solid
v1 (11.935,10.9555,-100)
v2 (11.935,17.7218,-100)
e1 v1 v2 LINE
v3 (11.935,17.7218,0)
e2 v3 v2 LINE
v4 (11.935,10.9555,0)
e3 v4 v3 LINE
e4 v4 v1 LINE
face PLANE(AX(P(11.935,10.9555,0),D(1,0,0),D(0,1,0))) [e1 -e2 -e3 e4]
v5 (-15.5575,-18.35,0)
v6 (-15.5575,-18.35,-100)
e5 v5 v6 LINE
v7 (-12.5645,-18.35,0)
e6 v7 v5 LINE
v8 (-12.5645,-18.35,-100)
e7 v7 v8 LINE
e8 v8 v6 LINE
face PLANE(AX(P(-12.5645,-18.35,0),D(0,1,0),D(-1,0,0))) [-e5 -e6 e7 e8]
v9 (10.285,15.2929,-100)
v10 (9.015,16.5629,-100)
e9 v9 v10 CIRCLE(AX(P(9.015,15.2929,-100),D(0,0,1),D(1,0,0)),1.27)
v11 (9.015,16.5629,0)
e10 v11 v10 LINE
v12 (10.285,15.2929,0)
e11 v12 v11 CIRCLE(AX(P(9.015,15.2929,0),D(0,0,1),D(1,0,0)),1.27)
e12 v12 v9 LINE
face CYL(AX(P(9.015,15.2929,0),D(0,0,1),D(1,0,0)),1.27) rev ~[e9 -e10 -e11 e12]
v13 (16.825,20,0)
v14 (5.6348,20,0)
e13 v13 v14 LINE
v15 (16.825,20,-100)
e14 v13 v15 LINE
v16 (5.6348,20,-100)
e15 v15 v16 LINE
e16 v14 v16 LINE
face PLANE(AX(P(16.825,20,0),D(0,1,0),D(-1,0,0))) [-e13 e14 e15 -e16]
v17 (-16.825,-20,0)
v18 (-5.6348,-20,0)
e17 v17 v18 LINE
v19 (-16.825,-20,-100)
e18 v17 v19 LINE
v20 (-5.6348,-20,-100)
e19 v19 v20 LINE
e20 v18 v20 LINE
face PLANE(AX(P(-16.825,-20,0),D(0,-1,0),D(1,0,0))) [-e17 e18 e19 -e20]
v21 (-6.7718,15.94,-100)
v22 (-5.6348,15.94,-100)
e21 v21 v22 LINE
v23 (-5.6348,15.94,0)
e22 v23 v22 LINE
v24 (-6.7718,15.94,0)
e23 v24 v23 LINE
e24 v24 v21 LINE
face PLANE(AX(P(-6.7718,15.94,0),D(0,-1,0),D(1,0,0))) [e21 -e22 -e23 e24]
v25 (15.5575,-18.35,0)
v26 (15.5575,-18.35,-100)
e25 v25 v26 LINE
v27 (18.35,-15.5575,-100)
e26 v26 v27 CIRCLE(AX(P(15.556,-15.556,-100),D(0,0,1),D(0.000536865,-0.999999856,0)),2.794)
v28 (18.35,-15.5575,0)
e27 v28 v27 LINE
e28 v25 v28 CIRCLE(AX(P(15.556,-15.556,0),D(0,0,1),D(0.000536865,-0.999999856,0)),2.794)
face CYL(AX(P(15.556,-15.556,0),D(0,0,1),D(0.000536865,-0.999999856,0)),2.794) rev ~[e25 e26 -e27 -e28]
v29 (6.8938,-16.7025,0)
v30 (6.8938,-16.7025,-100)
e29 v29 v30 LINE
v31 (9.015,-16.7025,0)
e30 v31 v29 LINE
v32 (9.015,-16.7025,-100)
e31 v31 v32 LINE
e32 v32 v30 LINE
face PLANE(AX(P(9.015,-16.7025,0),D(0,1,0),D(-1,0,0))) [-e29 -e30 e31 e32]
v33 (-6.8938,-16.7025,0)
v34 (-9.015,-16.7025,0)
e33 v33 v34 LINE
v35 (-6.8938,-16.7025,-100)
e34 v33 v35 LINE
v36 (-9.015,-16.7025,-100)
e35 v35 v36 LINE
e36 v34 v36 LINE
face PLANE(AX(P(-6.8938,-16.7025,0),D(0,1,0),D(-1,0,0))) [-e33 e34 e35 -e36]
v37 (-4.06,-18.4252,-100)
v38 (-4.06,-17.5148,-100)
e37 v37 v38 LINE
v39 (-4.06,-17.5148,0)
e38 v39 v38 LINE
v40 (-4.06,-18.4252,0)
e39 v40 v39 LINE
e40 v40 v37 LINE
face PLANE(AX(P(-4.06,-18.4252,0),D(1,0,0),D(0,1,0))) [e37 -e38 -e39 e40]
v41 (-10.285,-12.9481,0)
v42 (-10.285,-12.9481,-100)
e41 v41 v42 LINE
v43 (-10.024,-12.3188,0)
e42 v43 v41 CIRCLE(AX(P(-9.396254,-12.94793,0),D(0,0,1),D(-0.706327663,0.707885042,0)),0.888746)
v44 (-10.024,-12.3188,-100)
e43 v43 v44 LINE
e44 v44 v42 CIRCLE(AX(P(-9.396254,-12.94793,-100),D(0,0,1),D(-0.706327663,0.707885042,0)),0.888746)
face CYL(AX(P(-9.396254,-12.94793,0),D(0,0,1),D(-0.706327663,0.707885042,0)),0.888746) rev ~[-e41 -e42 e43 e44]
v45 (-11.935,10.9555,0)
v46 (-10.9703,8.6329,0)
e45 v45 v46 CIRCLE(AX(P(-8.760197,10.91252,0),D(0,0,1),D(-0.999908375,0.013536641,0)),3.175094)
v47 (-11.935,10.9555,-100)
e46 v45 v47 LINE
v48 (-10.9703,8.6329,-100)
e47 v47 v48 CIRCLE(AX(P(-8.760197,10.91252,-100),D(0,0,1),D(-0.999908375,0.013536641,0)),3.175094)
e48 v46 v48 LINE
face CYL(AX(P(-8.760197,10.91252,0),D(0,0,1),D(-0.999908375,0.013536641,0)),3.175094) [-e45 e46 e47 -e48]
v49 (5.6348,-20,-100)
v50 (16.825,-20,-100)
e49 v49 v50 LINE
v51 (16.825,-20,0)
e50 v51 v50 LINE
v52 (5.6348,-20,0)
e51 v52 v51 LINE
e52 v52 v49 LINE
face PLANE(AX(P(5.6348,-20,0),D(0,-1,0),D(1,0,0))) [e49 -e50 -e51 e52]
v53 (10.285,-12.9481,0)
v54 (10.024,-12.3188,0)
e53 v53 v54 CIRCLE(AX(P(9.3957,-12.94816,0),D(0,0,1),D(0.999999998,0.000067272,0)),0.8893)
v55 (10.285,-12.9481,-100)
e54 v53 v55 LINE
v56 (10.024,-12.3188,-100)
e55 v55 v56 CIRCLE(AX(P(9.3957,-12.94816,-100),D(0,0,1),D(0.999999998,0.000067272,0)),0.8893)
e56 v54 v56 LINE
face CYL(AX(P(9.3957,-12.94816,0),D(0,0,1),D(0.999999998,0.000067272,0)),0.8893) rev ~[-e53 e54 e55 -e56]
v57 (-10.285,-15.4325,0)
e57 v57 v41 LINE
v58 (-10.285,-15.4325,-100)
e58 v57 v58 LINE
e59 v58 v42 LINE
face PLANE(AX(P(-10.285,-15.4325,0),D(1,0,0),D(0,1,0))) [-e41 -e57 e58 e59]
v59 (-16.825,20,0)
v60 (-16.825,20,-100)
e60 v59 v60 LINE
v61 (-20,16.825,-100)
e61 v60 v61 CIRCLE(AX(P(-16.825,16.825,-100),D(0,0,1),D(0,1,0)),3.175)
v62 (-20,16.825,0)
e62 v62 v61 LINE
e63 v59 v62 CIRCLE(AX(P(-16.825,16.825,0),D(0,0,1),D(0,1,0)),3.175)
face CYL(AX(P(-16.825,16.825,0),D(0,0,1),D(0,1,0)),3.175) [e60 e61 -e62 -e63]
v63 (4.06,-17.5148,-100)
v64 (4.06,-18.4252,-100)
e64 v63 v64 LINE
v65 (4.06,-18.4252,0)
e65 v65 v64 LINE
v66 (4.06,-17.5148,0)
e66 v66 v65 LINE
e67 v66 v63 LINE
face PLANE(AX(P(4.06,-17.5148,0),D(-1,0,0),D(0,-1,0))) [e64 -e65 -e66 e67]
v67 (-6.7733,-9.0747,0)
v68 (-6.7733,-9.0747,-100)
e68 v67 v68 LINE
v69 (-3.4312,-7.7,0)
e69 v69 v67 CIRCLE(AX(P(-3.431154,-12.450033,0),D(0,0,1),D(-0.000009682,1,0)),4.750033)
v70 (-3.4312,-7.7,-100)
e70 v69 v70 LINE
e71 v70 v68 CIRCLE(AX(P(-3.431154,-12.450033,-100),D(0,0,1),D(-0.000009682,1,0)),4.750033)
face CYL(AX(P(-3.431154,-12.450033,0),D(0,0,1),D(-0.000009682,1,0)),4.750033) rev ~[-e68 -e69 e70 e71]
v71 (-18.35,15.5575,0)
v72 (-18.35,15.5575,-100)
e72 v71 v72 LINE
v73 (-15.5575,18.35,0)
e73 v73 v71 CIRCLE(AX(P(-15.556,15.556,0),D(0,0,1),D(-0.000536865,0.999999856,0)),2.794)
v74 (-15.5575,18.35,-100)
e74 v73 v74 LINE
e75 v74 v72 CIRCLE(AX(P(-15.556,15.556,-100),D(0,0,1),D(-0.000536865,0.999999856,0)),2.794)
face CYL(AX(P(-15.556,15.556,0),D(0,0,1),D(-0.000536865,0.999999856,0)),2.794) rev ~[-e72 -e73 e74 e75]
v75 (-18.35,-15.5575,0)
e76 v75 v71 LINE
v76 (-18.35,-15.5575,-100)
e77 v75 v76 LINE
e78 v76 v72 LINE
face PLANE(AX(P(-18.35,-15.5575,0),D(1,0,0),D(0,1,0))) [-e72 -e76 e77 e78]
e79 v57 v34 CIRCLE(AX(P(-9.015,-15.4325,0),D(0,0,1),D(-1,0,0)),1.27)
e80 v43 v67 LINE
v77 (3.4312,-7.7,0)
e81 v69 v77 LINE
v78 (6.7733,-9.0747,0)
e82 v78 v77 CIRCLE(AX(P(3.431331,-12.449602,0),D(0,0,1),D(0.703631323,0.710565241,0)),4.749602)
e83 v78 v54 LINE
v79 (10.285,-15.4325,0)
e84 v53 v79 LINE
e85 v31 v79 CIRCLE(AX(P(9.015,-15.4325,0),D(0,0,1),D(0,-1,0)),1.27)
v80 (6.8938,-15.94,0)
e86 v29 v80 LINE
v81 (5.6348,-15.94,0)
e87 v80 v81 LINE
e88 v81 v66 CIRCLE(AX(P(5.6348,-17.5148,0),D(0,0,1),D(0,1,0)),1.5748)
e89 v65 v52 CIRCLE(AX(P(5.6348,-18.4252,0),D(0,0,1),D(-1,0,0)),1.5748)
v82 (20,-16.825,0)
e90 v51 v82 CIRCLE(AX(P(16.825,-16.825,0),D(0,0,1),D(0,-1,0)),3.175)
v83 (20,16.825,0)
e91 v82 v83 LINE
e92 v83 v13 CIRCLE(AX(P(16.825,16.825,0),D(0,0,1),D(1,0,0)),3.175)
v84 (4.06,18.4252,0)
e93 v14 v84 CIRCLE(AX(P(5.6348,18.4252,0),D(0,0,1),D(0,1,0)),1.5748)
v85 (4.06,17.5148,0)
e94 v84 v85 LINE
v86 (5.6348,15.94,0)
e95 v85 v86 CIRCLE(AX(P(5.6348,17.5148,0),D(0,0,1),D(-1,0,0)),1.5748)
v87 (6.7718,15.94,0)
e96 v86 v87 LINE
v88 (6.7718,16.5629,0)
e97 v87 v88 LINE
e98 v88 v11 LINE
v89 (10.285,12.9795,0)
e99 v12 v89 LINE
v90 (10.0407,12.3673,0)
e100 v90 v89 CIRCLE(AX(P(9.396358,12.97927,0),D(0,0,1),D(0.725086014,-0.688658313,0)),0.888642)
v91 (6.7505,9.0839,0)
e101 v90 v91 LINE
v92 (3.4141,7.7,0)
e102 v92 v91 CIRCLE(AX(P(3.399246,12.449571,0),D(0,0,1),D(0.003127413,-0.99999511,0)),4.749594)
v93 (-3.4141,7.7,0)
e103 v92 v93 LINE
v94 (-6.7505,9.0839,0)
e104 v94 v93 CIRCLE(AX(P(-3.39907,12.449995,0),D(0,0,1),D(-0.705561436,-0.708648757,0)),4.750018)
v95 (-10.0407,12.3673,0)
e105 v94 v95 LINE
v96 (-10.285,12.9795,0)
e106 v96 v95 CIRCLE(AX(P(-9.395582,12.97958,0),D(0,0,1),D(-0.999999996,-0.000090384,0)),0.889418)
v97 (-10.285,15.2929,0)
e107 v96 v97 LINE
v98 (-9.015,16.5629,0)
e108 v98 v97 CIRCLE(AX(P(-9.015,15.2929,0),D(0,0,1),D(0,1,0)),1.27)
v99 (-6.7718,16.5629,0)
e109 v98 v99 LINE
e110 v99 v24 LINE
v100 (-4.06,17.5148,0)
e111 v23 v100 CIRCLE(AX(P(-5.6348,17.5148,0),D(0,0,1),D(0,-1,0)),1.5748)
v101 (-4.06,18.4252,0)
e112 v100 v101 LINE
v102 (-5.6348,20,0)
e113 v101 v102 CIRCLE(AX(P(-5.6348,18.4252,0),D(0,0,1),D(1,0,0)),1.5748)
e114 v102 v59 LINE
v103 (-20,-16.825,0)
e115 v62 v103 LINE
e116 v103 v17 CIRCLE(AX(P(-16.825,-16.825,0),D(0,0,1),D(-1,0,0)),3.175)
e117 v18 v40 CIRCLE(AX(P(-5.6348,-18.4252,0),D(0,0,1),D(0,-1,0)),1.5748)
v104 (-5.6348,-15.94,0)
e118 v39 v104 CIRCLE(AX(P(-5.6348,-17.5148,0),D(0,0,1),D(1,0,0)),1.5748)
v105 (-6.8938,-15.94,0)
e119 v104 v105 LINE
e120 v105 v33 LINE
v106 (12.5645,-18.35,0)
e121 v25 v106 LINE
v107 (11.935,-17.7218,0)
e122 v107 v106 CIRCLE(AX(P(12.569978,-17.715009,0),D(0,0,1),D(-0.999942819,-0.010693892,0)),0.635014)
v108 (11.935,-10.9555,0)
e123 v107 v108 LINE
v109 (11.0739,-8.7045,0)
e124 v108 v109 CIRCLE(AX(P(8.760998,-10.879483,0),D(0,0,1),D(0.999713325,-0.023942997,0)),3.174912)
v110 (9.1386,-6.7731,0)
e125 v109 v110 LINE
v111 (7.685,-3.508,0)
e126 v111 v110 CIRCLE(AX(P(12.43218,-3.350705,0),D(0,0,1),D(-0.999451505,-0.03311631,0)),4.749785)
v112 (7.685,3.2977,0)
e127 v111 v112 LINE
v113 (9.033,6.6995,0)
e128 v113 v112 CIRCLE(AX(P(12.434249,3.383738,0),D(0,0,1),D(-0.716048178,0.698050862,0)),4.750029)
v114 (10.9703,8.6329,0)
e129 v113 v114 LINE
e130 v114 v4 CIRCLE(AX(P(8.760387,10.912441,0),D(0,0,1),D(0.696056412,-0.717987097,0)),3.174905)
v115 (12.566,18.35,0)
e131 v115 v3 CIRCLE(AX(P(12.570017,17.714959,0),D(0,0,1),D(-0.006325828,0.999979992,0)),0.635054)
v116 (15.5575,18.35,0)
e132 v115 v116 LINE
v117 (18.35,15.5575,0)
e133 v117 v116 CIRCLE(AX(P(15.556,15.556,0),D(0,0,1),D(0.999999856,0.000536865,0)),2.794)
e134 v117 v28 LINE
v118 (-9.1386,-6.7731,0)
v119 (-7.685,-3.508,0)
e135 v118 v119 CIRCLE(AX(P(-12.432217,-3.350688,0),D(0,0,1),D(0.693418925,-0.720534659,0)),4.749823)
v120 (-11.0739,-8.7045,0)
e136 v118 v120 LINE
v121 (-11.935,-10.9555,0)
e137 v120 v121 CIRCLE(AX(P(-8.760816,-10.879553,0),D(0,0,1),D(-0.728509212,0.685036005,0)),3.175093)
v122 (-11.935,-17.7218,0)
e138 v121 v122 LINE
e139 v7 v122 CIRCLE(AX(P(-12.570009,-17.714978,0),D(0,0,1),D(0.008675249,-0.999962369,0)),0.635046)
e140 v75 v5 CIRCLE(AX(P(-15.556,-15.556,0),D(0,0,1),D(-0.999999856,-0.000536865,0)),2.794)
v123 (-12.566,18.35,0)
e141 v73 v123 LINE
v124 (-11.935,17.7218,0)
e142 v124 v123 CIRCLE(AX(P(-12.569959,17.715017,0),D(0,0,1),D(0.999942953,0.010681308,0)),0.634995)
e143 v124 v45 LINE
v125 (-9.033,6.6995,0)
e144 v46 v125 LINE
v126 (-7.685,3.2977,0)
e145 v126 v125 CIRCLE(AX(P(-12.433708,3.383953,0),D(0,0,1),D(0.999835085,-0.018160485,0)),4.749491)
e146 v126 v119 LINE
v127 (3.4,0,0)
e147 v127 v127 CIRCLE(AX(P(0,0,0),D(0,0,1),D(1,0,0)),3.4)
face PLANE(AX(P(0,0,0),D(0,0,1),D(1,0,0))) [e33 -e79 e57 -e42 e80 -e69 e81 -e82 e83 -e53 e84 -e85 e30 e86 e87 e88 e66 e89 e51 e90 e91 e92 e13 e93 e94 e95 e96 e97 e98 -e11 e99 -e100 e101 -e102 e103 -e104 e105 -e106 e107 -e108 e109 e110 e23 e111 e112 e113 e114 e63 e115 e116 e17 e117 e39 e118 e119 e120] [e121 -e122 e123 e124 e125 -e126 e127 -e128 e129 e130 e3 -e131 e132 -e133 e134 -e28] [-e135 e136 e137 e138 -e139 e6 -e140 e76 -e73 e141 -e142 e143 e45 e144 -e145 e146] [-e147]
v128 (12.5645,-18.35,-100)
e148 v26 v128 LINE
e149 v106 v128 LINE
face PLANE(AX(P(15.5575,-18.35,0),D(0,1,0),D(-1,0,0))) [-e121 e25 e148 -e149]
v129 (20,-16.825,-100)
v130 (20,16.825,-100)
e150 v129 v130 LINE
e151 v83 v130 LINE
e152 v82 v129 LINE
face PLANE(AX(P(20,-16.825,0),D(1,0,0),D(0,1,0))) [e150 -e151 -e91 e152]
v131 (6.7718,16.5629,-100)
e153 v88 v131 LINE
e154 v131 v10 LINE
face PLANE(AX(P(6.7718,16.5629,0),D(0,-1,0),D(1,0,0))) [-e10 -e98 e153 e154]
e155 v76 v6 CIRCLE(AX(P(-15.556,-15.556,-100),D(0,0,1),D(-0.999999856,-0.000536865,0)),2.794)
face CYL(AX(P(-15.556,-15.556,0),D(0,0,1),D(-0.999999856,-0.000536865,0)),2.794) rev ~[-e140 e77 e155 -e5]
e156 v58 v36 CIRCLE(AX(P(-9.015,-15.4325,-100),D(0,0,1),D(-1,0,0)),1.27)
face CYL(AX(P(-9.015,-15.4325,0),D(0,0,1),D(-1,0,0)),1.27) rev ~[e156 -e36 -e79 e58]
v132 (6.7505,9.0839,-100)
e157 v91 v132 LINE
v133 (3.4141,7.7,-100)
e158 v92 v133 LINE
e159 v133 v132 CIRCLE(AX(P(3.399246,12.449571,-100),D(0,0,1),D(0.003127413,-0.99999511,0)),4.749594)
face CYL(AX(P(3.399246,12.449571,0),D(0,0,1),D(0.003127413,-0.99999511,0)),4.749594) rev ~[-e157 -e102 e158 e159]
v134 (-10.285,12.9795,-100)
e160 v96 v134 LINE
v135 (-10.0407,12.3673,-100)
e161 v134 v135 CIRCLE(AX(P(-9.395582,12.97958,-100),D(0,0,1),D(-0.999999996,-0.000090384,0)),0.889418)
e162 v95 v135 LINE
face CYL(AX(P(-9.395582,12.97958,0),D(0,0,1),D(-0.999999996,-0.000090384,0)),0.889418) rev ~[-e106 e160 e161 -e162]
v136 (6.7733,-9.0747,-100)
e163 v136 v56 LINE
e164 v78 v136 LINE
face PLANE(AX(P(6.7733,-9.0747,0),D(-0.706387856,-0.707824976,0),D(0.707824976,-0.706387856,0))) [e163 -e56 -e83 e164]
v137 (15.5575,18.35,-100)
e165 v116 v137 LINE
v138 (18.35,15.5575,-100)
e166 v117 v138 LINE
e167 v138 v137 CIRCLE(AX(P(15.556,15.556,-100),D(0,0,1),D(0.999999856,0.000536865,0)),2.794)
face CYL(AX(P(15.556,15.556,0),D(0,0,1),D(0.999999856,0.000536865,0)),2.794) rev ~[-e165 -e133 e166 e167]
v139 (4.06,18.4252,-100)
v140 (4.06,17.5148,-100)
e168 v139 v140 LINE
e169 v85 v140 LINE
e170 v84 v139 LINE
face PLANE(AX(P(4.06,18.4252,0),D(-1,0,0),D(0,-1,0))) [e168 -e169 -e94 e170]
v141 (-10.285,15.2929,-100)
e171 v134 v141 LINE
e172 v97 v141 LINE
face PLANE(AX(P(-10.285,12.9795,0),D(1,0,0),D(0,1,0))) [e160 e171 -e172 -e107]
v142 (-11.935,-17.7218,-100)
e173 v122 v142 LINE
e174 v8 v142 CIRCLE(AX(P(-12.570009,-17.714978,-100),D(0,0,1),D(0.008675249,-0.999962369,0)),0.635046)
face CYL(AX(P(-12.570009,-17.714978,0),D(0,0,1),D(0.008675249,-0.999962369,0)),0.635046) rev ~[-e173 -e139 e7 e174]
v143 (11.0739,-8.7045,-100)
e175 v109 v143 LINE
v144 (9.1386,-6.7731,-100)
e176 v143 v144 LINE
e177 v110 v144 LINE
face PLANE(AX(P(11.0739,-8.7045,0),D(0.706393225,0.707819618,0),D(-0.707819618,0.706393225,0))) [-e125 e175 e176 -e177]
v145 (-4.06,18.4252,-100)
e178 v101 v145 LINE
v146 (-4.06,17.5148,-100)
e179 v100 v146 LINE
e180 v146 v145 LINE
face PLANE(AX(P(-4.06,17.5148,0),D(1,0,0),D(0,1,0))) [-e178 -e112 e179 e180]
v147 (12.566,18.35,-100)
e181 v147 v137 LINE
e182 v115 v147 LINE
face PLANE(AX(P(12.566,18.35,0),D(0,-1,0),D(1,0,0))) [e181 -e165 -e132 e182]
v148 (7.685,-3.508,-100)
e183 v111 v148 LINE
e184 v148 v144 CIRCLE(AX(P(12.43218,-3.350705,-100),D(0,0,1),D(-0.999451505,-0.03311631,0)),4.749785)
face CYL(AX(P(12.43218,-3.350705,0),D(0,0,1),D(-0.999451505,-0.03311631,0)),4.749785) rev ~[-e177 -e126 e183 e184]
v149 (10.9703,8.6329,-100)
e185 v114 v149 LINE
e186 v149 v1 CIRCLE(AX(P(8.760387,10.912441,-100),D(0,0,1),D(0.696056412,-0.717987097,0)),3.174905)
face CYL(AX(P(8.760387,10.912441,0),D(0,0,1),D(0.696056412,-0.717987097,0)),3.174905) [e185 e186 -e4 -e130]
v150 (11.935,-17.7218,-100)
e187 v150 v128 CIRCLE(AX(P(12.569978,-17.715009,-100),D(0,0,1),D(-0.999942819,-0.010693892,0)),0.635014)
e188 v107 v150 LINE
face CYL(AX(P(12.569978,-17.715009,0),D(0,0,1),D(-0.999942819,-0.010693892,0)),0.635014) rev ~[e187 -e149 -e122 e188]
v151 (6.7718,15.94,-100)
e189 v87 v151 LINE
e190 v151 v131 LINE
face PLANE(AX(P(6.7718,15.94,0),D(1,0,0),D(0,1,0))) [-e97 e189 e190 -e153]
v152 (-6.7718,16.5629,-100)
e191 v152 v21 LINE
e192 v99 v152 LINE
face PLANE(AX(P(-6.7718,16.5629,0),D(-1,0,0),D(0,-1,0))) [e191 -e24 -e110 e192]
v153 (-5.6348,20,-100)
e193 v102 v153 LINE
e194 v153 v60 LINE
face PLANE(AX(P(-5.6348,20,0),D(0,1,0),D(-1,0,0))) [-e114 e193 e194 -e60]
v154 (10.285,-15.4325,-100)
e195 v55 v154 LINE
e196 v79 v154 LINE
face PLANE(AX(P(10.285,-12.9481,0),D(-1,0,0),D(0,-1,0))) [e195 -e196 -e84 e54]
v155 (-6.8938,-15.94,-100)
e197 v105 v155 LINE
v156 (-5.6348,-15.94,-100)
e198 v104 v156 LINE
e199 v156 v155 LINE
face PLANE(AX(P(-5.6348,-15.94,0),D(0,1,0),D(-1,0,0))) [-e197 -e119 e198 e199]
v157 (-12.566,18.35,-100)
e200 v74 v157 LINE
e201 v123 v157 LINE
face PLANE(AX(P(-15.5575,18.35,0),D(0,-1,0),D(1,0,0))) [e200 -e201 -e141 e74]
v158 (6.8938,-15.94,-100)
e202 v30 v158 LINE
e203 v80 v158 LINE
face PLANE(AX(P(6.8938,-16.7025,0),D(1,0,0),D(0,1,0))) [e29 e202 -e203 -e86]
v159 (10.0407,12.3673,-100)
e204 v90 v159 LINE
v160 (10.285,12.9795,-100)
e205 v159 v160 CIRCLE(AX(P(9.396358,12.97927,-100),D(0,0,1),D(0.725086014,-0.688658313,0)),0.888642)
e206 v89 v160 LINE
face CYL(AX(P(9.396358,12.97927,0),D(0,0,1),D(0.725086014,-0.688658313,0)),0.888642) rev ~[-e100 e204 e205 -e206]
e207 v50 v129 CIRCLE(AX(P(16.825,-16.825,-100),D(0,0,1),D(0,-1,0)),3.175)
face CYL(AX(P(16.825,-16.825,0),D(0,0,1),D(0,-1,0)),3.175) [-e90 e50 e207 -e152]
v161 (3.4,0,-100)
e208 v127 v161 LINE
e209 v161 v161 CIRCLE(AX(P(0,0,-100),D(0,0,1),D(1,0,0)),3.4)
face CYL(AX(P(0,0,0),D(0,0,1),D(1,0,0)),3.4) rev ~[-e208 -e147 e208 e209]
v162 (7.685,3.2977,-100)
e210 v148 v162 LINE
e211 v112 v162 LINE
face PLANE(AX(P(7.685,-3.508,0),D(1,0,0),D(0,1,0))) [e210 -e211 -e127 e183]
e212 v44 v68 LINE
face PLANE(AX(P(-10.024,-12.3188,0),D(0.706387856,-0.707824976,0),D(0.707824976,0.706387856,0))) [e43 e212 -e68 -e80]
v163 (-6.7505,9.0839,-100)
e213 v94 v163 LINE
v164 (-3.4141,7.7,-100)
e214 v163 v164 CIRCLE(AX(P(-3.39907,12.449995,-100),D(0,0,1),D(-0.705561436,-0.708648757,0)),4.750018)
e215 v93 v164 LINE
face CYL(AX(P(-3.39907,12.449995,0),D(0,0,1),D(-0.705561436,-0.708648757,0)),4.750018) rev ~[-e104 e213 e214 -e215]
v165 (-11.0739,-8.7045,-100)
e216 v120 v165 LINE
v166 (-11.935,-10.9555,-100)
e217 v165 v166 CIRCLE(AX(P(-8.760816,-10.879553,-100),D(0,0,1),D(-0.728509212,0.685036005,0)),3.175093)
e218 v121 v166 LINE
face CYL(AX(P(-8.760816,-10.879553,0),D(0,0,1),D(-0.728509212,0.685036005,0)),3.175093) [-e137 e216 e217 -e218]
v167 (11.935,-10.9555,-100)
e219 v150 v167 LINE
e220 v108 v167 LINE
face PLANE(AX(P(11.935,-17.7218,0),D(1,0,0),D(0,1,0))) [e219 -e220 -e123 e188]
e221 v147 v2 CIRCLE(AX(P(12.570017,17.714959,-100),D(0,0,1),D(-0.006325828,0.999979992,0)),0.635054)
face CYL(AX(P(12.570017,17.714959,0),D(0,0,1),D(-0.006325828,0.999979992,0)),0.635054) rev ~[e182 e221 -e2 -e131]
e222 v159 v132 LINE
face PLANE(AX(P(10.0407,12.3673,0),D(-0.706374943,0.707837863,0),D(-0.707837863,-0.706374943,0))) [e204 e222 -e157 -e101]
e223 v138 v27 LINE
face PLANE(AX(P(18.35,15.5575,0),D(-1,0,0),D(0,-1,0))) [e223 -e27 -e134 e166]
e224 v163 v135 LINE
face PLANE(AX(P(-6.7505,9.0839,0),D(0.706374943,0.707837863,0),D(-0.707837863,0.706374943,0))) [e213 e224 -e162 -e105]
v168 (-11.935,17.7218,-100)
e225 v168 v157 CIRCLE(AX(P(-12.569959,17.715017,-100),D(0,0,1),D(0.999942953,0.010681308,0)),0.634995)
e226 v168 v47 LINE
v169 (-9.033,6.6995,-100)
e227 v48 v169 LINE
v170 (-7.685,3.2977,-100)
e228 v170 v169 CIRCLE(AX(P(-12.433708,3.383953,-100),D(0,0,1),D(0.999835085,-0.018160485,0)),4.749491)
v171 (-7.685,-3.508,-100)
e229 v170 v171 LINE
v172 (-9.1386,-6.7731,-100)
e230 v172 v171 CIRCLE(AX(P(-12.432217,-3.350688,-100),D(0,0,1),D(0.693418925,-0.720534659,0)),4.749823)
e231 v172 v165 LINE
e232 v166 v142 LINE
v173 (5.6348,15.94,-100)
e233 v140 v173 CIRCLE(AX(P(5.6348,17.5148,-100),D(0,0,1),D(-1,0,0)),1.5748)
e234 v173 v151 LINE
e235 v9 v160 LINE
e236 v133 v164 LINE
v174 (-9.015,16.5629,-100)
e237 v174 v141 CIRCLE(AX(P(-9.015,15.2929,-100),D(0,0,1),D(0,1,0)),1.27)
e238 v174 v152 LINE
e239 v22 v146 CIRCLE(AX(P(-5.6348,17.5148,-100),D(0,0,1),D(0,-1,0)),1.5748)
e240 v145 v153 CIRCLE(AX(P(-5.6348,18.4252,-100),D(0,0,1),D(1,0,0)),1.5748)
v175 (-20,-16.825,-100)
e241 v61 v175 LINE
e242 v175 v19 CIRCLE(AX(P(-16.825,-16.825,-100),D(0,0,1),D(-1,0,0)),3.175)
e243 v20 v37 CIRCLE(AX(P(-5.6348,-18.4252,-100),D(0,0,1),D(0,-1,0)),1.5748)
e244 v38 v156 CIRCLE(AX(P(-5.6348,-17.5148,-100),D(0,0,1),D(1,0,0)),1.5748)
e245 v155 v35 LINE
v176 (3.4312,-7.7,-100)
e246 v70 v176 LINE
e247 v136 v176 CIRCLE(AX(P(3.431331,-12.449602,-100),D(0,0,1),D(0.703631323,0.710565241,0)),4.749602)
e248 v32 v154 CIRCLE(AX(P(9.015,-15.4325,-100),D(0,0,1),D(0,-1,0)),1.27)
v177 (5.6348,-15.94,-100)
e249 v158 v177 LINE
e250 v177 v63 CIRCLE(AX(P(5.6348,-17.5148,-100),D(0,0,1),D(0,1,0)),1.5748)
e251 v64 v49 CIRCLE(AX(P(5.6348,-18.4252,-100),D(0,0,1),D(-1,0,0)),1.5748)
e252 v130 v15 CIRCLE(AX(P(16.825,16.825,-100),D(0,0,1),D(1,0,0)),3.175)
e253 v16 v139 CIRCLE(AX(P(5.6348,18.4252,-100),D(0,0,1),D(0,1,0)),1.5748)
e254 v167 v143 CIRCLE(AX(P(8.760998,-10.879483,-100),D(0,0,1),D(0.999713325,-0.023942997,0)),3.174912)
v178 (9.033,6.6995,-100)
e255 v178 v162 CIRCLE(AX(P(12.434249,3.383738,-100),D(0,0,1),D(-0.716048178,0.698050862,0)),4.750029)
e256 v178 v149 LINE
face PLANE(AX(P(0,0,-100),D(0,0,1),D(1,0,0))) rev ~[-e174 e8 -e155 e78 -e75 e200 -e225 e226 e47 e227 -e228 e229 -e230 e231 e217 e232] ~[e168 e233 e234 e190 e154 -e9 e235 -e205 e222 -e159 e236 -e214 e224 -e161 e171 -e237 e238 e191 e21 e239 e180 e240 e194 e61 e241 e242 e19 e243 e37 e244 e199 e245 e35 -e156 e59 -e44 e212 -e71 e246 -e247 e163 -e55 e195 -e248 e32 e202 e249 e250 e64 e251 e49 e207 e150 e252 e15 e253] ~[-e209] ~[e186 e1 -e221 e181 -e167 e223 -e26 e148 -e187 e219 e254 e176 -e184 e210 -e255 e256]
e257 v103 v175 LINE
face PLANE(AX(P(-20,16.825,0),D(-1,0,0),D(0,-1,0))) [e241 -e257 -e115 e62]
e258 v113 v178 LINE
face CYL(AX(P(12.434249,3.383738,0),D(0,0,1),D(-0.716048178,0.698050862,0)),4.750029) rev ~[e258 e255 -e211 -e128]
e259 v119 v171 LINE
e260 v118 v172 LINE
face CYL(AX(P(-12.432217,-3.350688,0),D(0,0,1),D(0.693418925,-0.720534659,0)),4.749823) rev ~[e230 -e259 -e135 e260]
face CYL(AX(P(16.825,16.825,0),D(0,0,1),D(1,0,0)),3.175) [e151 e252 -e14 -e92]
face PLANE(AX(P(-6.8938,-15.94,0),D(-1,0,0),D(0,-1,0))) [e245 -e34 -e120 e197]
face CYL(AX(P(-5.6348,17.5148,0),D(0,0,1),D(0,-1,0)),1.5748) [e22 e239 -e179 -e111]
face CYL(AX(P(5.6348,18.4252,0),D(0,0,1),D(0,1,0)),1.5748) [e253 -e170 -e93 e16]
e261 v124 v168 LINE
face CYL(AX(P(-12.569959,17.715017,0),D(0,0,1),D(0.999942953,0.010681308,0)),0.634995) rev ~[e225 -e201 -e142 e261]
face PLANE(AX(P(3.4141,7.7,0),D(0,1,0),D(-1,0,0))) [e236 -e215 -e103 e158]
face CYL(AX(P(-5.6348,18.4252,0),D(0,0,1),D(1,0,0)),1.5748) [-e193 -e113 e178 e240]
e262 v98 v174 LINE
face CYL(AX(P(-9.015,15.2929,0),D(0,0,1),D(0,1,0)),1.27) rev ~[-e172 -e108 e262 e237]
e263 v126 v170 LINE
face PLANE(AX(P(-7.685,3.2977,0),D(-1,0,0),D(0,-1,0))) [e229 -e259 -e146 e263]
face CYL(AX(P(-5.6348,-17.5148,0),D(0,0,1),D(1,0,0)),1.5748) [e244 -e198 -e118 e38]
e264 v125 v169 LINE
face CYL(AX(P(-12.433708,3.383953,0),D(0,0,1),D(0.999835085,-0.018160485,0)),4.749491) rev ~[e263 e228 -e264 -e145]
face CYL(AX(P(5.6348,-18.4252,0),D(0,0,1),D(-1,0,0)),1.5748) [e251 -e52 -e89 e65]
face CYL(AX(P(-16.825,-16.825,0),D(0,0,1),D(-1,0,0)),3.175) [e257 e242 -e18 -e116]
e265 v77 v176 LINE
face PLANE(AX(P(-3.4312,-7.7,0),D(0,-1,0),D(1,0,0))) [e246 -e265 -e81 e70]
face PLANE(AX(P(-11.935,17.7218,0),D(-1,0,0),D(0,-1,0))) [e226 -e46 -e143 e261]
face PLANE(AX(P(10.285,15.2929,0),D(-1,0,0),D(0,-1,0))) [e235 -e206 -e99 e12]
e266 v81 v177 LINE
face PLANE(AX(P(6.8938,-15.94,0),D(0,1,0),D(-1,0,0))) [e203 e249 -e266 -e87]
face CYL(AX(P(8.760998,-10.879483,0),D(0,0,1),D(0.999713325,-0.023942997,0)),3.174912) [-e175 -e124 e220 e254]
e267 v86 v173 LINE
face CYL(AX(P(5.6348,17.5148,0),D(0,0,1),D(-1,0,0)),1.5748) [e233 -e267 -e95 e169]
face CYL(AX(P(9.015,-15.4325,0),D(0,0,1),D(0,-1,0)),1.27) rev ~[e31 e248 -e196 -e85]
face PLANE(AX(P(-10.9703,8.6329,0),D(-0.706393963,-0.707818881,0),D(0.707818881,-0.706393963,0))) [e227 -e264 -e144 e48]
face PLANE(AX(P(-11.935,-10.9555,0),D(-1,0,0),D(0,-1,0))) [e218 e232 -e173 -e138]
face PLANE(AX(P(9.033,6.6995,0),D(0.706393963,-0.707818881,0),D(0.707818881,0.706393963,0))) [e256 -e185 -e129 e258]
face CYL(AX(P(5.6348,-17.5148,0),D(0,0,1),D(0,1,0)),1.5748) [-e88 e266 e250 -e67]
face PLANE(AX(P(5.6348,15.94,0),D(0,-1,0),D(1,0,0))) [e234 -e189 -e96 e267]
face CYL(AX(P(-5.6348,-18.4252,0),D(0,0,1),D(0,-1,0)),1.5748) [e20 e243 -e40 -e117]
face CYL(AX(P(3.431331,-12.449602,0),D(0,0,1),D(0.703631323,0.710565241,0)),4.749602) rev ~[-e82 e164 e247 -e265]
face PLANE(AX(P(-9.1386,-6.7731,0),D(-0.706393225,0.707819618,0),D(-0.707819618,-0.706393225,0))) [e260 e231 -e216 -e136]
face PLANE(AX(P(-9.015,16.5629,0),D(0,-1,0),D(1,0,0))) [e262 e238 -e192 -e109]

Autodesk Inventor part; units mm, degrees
ref_plane "YZ Plane" through (0, 0, 0) normal (1, 0, 0) x (0, 1, 0)
ref_plane "XZ Plane" through (0, 0, 0) normal (0, 1, 0) x (-1, 0, 0)
ref_plane "XY Plane" through (0, 0, 0) normal (0, 0, 1) x (1, 0, 0)
sketch "Sketch1" plane through (0, 0, 0) normal (0, 0, 1) x (1, 0, 0)
  line L0 (9.015, -16.7025) -> (6.8938, -16.7025)
  line L1 (6.8938, -16.7025) -> (6.8938, -15.94)
  arc A0 (9.015, -16.7025) -> (10.285, -15.4325) centre (9.015, -15.4325) ccw
  line L2 (6.8938, -15.94) -> (5.6348, -15.94)
  line L3 (10.285, -12.9481) -> (10.285, -15.4325)
  arc A1 (5.6348, -15.94) -> (4.06, -17.5148) centre (5.6348, -17.5148) ccw
  arc A2 (10.285, -12.9481) -> (10.024, -12.3188) centre (9.396, -12.9481) ccw
  line L4 (4.06, -17.5148) -> (4.06, -18.4252)
  line L5 (6.7733, -9.0747) -> (10.024, -12.3188)
  arc A3 (4.06, -18.4252) -> (5.6348, -20) centre (5.6348, -18.4252) ccw
  arc A4 (6.7733, -9.0747) -> (3.4312, -7.7) centre (3.4312, -12.4498) ccw
  line L6 (5.6348, -20) -> (16.825, -20)
  line L7 (-3.4312, -7.7) -> (3.4312, -7.7)
  arc A5 (16.825, -20) -> (20, -16.825) centre (16.825, -16.825) ccw
  arc A6 (-3.4312, -7.7) -> (-6.7733, -9.0747) centre (-3.4312, -12.4498) ccw
  line L8 (20, -16.825) -> (20, 16.825)
  line L9 (-10.024, -12.3188) -> (-6.7733, -9.0747)
  arc A7 (20, 16.825) -> (16.825, 20) centre (16.825, 16.825) ccw
  arc A8 (-10.024, -12.3188) -> (-10.285, -12.9481) centre (-9.396, -12.9481) ccw
  line L10 (16.825, 20) -> (5.6348, 20)
  line L11 (-10.285, -15.4325) -> (-10.285, -12.9481)
  arc A9 (5.6348, 20) -> (4.06, 18.4252) centre (5.6348, 18.4252) ccw
  arc A10 (-10.285, -15.4325) -> (-9.015, -16.7025) centre (-9.015, -15.4325) ccw
  line L12 (4.06, 18.4252) -> (4.06, 17.5148)
  line L13 (-6.8938, -16.7025) -> (-9.015, -16.7025)
  arc A11 (4.06, 17.5148) -> (5.6348, 15.94) centre (5.6348, 17.5148) ccw
  line L14 (-6.8938, -15.94) -> (-6.8938, -16.7025)
  line L15 (5.6348, 15.94) -> (6.7718, 15.94)
  line L16 (-5.6348, -15.94) -> (-6.8938, -15.94)
  line L17 (6.7718, 15.94) -> (6.7718, 16.5629)
  arc A12 (-4.06, -17.5148) -> (-5.6348, -15.94) centre (-5.6348, -17.5148) ccw
  line L18 (6.7718, 16.5629) -> (9.015, 16.5629)
  line L19 (-4.06, -18.4252) -> (-4.06, -17.5148)
  arc A13 (10.285, 15.2929) -> (9.015, 16.5629) centre (9.015, 15.2929) ccw
  arc A14 (-5.6348, -20) -> (-4.06, -18.4252) centre (-5.6348, -18.4252) ccw
  line L20 (10.285, 15.2929) -> (10.285, 12.9795)
  line L21 (-16.825, -20) -> (-5.6348, -20)
  arc A15 (10.0407, 12.3673) -> (10.285, 12.9795) centre (9.396, 12.9795) ccw
  arc A16 (-20, -16.825) -> (-16.825, -20) centre (-16.825, -16.825) ccw
  line L22 (10.0407, 12.3673) -> (6.7505, 9.0839)
  line L23 (-20, 16.825) -> (-20, -16.825)
  arc A17 (3.4141, 7.7) -> (6.7505, 9.0839) centre (3.3992, 12.4498) ccw
  arc A18 (-16.825, 20) -> (-20, 16.825) centre (-16.825, 16.825) ccw
  line L24 (3.4141, 7.7) -> (-3.4141, 7.7)
  line L25 (-5.6348, 20) -> (-16.825, 20)
  arc A19 (-6.7505, 9.0839) -> (-3.4141, 7.7) centre (-3.3992, 12.4498) ccw
  arc A20 (-4.06, 18.4252) -> (-5.6348, 20) centre (-5.6348, 18.4252) ccw
  line L26 (-6.7505, 9.0839) -> (-10.0407, 12.3673)
  line L27 (-4.06, 17.5148) -> (-4.06, 18.4252)
  arc A21 (-10.285, 12.9795) -> (-10.0407, 12.3673) centre (-9.396, 12.9795) ccw
  arc A22 (-5.6348, 15.94) -> (-4.06, 17.5148) centre (-5.6348, 17.5148) ccw
  line L28 (-10.285, 12.9795) -> (-10.285, 15.2929)
  line L29 (-6.7718, 15.94) -> (-5.6348, 15.94)
  arc A23 (-9.015, 16.5629) -> (-10.285, 15.2929) centre (-9.015, 15.2929) ccw
  line L30 (-6.7718, 16.5629) -> (-6.7718, 15.94)
  line L31 (-9.015, 16.5629) -> (-6.7718, 16.5629)
  arc A24 (11.935, -17.7218) -> (12.5645, -18.35) centre (12.57, -17.715) ccw
  line L32 (11.935, -17.7218) -> (11.935, -10.9555)
  line L33 (15.5575, -18.35) -> (12.5645, -18.35)
  arc A25 (11.935, -10.9555) -> (11.0739, -8.7045) centre (8.7609, -10.8795) ccw
  arc A26 (15.5575, -18.35) -> (18.35, -15.5575) centre (15.556, -15.556) ccw
  line L34 (11.0739, -8.7045) -> (9.1386, -6.7731)
  line L35 (18.35, 15.5575) -> (18.35, -15.5575)
  arc A27 (7.685, -3.508) -> (9.1386, -6.7731) centre (12.4322, -3.3507) ccw
  arc A28 (18.35, 15.5575) -> (15.5575, 18.35) centre (15.556, 15.556) ccw
  line L36 (7.685, -3.508) -> (7.685, 3.2977)
  line L37 (12.566, 18.35) -> (15.5575, 18.35)
  arc A29 (9.033, 6.6995) -> (7.685, 3.2977) centre (12.434, 3.3839) ccw
  arc A30 (12.566, 18.35) -> (11.935, 17.7218) centre (12.57, 17.715) ccw
  line L38 (9.033, 6.6995) -> (10.9703, 8.6329)
  line L39 (11.935, 10.9555) -> (11.935, 17.7218)
  arc A31 (10.9703, 8.6329) -> (11.935, 10.9555) centre (8.7603, 10.9125) ccw
  circle A32 centre (0, 0) radius 3.4
  arc A33 (-11.0739, -8.7045) -> (-11.935, -10.9555) centre (-8.7609, -10.8795) ccw
  line L40 (-11.935, -10.9555) -> (-11.935, -17.7218)
  line L41 (-9.1386, -6.7731) -> (-11.0739, -8.7045)
  arc A34 (-12.5645, -18.35) -> (-11.935, -17.7218) centre (-12.57, -17.715) ccw
  arc A35 (-9.1386, -6.7731) -> (-7.685, -3.508) centre (-12.4322, -3.3507) ccw
  line L42 (-12.5645, -18.35) -> (-15.5575, -18.35)
  line L43 (-7.685, 3.2977) -> (-7.685, -3.508)
  arc A36 (-18.35, -15.5575) -> (-15.5575, -18.35) centre (-15.556, -15.556) ccw
  arc A37 (-7.685, 3.2977) -> (-9.033, 6.6995) centre (-12.434, 3.3839) ccw
  line L44 (-18.35, -15.5575) -> (-18.35, 15.5575)
  line L45 (-10.9703, 8.6329) -> (-9.033, 6.6995)
  arc A38 (-15.5575, 18.35) -> (-18.35, 15.5575) centre (-15.556, 15.556) ccw
  arc A39 (-11.935, 10.9555) -> (-10.9703, 8.6329) centre (-8.7603, 10.9125) ccw
  line L46 (-15.5575, 18.35) -> (-12.566, 18.35)
  line L47 (-11.935, 17.7218) -> (-11.935, 10.9555)
  arc A40 (-11.935, 17.7218) -> (-12.566, 18.35) centre (-12.57, 17.715) ccw
extrude "Extrusion1" add sketch "Sketch1" against normal blind 100
properties part number "40-4004"
